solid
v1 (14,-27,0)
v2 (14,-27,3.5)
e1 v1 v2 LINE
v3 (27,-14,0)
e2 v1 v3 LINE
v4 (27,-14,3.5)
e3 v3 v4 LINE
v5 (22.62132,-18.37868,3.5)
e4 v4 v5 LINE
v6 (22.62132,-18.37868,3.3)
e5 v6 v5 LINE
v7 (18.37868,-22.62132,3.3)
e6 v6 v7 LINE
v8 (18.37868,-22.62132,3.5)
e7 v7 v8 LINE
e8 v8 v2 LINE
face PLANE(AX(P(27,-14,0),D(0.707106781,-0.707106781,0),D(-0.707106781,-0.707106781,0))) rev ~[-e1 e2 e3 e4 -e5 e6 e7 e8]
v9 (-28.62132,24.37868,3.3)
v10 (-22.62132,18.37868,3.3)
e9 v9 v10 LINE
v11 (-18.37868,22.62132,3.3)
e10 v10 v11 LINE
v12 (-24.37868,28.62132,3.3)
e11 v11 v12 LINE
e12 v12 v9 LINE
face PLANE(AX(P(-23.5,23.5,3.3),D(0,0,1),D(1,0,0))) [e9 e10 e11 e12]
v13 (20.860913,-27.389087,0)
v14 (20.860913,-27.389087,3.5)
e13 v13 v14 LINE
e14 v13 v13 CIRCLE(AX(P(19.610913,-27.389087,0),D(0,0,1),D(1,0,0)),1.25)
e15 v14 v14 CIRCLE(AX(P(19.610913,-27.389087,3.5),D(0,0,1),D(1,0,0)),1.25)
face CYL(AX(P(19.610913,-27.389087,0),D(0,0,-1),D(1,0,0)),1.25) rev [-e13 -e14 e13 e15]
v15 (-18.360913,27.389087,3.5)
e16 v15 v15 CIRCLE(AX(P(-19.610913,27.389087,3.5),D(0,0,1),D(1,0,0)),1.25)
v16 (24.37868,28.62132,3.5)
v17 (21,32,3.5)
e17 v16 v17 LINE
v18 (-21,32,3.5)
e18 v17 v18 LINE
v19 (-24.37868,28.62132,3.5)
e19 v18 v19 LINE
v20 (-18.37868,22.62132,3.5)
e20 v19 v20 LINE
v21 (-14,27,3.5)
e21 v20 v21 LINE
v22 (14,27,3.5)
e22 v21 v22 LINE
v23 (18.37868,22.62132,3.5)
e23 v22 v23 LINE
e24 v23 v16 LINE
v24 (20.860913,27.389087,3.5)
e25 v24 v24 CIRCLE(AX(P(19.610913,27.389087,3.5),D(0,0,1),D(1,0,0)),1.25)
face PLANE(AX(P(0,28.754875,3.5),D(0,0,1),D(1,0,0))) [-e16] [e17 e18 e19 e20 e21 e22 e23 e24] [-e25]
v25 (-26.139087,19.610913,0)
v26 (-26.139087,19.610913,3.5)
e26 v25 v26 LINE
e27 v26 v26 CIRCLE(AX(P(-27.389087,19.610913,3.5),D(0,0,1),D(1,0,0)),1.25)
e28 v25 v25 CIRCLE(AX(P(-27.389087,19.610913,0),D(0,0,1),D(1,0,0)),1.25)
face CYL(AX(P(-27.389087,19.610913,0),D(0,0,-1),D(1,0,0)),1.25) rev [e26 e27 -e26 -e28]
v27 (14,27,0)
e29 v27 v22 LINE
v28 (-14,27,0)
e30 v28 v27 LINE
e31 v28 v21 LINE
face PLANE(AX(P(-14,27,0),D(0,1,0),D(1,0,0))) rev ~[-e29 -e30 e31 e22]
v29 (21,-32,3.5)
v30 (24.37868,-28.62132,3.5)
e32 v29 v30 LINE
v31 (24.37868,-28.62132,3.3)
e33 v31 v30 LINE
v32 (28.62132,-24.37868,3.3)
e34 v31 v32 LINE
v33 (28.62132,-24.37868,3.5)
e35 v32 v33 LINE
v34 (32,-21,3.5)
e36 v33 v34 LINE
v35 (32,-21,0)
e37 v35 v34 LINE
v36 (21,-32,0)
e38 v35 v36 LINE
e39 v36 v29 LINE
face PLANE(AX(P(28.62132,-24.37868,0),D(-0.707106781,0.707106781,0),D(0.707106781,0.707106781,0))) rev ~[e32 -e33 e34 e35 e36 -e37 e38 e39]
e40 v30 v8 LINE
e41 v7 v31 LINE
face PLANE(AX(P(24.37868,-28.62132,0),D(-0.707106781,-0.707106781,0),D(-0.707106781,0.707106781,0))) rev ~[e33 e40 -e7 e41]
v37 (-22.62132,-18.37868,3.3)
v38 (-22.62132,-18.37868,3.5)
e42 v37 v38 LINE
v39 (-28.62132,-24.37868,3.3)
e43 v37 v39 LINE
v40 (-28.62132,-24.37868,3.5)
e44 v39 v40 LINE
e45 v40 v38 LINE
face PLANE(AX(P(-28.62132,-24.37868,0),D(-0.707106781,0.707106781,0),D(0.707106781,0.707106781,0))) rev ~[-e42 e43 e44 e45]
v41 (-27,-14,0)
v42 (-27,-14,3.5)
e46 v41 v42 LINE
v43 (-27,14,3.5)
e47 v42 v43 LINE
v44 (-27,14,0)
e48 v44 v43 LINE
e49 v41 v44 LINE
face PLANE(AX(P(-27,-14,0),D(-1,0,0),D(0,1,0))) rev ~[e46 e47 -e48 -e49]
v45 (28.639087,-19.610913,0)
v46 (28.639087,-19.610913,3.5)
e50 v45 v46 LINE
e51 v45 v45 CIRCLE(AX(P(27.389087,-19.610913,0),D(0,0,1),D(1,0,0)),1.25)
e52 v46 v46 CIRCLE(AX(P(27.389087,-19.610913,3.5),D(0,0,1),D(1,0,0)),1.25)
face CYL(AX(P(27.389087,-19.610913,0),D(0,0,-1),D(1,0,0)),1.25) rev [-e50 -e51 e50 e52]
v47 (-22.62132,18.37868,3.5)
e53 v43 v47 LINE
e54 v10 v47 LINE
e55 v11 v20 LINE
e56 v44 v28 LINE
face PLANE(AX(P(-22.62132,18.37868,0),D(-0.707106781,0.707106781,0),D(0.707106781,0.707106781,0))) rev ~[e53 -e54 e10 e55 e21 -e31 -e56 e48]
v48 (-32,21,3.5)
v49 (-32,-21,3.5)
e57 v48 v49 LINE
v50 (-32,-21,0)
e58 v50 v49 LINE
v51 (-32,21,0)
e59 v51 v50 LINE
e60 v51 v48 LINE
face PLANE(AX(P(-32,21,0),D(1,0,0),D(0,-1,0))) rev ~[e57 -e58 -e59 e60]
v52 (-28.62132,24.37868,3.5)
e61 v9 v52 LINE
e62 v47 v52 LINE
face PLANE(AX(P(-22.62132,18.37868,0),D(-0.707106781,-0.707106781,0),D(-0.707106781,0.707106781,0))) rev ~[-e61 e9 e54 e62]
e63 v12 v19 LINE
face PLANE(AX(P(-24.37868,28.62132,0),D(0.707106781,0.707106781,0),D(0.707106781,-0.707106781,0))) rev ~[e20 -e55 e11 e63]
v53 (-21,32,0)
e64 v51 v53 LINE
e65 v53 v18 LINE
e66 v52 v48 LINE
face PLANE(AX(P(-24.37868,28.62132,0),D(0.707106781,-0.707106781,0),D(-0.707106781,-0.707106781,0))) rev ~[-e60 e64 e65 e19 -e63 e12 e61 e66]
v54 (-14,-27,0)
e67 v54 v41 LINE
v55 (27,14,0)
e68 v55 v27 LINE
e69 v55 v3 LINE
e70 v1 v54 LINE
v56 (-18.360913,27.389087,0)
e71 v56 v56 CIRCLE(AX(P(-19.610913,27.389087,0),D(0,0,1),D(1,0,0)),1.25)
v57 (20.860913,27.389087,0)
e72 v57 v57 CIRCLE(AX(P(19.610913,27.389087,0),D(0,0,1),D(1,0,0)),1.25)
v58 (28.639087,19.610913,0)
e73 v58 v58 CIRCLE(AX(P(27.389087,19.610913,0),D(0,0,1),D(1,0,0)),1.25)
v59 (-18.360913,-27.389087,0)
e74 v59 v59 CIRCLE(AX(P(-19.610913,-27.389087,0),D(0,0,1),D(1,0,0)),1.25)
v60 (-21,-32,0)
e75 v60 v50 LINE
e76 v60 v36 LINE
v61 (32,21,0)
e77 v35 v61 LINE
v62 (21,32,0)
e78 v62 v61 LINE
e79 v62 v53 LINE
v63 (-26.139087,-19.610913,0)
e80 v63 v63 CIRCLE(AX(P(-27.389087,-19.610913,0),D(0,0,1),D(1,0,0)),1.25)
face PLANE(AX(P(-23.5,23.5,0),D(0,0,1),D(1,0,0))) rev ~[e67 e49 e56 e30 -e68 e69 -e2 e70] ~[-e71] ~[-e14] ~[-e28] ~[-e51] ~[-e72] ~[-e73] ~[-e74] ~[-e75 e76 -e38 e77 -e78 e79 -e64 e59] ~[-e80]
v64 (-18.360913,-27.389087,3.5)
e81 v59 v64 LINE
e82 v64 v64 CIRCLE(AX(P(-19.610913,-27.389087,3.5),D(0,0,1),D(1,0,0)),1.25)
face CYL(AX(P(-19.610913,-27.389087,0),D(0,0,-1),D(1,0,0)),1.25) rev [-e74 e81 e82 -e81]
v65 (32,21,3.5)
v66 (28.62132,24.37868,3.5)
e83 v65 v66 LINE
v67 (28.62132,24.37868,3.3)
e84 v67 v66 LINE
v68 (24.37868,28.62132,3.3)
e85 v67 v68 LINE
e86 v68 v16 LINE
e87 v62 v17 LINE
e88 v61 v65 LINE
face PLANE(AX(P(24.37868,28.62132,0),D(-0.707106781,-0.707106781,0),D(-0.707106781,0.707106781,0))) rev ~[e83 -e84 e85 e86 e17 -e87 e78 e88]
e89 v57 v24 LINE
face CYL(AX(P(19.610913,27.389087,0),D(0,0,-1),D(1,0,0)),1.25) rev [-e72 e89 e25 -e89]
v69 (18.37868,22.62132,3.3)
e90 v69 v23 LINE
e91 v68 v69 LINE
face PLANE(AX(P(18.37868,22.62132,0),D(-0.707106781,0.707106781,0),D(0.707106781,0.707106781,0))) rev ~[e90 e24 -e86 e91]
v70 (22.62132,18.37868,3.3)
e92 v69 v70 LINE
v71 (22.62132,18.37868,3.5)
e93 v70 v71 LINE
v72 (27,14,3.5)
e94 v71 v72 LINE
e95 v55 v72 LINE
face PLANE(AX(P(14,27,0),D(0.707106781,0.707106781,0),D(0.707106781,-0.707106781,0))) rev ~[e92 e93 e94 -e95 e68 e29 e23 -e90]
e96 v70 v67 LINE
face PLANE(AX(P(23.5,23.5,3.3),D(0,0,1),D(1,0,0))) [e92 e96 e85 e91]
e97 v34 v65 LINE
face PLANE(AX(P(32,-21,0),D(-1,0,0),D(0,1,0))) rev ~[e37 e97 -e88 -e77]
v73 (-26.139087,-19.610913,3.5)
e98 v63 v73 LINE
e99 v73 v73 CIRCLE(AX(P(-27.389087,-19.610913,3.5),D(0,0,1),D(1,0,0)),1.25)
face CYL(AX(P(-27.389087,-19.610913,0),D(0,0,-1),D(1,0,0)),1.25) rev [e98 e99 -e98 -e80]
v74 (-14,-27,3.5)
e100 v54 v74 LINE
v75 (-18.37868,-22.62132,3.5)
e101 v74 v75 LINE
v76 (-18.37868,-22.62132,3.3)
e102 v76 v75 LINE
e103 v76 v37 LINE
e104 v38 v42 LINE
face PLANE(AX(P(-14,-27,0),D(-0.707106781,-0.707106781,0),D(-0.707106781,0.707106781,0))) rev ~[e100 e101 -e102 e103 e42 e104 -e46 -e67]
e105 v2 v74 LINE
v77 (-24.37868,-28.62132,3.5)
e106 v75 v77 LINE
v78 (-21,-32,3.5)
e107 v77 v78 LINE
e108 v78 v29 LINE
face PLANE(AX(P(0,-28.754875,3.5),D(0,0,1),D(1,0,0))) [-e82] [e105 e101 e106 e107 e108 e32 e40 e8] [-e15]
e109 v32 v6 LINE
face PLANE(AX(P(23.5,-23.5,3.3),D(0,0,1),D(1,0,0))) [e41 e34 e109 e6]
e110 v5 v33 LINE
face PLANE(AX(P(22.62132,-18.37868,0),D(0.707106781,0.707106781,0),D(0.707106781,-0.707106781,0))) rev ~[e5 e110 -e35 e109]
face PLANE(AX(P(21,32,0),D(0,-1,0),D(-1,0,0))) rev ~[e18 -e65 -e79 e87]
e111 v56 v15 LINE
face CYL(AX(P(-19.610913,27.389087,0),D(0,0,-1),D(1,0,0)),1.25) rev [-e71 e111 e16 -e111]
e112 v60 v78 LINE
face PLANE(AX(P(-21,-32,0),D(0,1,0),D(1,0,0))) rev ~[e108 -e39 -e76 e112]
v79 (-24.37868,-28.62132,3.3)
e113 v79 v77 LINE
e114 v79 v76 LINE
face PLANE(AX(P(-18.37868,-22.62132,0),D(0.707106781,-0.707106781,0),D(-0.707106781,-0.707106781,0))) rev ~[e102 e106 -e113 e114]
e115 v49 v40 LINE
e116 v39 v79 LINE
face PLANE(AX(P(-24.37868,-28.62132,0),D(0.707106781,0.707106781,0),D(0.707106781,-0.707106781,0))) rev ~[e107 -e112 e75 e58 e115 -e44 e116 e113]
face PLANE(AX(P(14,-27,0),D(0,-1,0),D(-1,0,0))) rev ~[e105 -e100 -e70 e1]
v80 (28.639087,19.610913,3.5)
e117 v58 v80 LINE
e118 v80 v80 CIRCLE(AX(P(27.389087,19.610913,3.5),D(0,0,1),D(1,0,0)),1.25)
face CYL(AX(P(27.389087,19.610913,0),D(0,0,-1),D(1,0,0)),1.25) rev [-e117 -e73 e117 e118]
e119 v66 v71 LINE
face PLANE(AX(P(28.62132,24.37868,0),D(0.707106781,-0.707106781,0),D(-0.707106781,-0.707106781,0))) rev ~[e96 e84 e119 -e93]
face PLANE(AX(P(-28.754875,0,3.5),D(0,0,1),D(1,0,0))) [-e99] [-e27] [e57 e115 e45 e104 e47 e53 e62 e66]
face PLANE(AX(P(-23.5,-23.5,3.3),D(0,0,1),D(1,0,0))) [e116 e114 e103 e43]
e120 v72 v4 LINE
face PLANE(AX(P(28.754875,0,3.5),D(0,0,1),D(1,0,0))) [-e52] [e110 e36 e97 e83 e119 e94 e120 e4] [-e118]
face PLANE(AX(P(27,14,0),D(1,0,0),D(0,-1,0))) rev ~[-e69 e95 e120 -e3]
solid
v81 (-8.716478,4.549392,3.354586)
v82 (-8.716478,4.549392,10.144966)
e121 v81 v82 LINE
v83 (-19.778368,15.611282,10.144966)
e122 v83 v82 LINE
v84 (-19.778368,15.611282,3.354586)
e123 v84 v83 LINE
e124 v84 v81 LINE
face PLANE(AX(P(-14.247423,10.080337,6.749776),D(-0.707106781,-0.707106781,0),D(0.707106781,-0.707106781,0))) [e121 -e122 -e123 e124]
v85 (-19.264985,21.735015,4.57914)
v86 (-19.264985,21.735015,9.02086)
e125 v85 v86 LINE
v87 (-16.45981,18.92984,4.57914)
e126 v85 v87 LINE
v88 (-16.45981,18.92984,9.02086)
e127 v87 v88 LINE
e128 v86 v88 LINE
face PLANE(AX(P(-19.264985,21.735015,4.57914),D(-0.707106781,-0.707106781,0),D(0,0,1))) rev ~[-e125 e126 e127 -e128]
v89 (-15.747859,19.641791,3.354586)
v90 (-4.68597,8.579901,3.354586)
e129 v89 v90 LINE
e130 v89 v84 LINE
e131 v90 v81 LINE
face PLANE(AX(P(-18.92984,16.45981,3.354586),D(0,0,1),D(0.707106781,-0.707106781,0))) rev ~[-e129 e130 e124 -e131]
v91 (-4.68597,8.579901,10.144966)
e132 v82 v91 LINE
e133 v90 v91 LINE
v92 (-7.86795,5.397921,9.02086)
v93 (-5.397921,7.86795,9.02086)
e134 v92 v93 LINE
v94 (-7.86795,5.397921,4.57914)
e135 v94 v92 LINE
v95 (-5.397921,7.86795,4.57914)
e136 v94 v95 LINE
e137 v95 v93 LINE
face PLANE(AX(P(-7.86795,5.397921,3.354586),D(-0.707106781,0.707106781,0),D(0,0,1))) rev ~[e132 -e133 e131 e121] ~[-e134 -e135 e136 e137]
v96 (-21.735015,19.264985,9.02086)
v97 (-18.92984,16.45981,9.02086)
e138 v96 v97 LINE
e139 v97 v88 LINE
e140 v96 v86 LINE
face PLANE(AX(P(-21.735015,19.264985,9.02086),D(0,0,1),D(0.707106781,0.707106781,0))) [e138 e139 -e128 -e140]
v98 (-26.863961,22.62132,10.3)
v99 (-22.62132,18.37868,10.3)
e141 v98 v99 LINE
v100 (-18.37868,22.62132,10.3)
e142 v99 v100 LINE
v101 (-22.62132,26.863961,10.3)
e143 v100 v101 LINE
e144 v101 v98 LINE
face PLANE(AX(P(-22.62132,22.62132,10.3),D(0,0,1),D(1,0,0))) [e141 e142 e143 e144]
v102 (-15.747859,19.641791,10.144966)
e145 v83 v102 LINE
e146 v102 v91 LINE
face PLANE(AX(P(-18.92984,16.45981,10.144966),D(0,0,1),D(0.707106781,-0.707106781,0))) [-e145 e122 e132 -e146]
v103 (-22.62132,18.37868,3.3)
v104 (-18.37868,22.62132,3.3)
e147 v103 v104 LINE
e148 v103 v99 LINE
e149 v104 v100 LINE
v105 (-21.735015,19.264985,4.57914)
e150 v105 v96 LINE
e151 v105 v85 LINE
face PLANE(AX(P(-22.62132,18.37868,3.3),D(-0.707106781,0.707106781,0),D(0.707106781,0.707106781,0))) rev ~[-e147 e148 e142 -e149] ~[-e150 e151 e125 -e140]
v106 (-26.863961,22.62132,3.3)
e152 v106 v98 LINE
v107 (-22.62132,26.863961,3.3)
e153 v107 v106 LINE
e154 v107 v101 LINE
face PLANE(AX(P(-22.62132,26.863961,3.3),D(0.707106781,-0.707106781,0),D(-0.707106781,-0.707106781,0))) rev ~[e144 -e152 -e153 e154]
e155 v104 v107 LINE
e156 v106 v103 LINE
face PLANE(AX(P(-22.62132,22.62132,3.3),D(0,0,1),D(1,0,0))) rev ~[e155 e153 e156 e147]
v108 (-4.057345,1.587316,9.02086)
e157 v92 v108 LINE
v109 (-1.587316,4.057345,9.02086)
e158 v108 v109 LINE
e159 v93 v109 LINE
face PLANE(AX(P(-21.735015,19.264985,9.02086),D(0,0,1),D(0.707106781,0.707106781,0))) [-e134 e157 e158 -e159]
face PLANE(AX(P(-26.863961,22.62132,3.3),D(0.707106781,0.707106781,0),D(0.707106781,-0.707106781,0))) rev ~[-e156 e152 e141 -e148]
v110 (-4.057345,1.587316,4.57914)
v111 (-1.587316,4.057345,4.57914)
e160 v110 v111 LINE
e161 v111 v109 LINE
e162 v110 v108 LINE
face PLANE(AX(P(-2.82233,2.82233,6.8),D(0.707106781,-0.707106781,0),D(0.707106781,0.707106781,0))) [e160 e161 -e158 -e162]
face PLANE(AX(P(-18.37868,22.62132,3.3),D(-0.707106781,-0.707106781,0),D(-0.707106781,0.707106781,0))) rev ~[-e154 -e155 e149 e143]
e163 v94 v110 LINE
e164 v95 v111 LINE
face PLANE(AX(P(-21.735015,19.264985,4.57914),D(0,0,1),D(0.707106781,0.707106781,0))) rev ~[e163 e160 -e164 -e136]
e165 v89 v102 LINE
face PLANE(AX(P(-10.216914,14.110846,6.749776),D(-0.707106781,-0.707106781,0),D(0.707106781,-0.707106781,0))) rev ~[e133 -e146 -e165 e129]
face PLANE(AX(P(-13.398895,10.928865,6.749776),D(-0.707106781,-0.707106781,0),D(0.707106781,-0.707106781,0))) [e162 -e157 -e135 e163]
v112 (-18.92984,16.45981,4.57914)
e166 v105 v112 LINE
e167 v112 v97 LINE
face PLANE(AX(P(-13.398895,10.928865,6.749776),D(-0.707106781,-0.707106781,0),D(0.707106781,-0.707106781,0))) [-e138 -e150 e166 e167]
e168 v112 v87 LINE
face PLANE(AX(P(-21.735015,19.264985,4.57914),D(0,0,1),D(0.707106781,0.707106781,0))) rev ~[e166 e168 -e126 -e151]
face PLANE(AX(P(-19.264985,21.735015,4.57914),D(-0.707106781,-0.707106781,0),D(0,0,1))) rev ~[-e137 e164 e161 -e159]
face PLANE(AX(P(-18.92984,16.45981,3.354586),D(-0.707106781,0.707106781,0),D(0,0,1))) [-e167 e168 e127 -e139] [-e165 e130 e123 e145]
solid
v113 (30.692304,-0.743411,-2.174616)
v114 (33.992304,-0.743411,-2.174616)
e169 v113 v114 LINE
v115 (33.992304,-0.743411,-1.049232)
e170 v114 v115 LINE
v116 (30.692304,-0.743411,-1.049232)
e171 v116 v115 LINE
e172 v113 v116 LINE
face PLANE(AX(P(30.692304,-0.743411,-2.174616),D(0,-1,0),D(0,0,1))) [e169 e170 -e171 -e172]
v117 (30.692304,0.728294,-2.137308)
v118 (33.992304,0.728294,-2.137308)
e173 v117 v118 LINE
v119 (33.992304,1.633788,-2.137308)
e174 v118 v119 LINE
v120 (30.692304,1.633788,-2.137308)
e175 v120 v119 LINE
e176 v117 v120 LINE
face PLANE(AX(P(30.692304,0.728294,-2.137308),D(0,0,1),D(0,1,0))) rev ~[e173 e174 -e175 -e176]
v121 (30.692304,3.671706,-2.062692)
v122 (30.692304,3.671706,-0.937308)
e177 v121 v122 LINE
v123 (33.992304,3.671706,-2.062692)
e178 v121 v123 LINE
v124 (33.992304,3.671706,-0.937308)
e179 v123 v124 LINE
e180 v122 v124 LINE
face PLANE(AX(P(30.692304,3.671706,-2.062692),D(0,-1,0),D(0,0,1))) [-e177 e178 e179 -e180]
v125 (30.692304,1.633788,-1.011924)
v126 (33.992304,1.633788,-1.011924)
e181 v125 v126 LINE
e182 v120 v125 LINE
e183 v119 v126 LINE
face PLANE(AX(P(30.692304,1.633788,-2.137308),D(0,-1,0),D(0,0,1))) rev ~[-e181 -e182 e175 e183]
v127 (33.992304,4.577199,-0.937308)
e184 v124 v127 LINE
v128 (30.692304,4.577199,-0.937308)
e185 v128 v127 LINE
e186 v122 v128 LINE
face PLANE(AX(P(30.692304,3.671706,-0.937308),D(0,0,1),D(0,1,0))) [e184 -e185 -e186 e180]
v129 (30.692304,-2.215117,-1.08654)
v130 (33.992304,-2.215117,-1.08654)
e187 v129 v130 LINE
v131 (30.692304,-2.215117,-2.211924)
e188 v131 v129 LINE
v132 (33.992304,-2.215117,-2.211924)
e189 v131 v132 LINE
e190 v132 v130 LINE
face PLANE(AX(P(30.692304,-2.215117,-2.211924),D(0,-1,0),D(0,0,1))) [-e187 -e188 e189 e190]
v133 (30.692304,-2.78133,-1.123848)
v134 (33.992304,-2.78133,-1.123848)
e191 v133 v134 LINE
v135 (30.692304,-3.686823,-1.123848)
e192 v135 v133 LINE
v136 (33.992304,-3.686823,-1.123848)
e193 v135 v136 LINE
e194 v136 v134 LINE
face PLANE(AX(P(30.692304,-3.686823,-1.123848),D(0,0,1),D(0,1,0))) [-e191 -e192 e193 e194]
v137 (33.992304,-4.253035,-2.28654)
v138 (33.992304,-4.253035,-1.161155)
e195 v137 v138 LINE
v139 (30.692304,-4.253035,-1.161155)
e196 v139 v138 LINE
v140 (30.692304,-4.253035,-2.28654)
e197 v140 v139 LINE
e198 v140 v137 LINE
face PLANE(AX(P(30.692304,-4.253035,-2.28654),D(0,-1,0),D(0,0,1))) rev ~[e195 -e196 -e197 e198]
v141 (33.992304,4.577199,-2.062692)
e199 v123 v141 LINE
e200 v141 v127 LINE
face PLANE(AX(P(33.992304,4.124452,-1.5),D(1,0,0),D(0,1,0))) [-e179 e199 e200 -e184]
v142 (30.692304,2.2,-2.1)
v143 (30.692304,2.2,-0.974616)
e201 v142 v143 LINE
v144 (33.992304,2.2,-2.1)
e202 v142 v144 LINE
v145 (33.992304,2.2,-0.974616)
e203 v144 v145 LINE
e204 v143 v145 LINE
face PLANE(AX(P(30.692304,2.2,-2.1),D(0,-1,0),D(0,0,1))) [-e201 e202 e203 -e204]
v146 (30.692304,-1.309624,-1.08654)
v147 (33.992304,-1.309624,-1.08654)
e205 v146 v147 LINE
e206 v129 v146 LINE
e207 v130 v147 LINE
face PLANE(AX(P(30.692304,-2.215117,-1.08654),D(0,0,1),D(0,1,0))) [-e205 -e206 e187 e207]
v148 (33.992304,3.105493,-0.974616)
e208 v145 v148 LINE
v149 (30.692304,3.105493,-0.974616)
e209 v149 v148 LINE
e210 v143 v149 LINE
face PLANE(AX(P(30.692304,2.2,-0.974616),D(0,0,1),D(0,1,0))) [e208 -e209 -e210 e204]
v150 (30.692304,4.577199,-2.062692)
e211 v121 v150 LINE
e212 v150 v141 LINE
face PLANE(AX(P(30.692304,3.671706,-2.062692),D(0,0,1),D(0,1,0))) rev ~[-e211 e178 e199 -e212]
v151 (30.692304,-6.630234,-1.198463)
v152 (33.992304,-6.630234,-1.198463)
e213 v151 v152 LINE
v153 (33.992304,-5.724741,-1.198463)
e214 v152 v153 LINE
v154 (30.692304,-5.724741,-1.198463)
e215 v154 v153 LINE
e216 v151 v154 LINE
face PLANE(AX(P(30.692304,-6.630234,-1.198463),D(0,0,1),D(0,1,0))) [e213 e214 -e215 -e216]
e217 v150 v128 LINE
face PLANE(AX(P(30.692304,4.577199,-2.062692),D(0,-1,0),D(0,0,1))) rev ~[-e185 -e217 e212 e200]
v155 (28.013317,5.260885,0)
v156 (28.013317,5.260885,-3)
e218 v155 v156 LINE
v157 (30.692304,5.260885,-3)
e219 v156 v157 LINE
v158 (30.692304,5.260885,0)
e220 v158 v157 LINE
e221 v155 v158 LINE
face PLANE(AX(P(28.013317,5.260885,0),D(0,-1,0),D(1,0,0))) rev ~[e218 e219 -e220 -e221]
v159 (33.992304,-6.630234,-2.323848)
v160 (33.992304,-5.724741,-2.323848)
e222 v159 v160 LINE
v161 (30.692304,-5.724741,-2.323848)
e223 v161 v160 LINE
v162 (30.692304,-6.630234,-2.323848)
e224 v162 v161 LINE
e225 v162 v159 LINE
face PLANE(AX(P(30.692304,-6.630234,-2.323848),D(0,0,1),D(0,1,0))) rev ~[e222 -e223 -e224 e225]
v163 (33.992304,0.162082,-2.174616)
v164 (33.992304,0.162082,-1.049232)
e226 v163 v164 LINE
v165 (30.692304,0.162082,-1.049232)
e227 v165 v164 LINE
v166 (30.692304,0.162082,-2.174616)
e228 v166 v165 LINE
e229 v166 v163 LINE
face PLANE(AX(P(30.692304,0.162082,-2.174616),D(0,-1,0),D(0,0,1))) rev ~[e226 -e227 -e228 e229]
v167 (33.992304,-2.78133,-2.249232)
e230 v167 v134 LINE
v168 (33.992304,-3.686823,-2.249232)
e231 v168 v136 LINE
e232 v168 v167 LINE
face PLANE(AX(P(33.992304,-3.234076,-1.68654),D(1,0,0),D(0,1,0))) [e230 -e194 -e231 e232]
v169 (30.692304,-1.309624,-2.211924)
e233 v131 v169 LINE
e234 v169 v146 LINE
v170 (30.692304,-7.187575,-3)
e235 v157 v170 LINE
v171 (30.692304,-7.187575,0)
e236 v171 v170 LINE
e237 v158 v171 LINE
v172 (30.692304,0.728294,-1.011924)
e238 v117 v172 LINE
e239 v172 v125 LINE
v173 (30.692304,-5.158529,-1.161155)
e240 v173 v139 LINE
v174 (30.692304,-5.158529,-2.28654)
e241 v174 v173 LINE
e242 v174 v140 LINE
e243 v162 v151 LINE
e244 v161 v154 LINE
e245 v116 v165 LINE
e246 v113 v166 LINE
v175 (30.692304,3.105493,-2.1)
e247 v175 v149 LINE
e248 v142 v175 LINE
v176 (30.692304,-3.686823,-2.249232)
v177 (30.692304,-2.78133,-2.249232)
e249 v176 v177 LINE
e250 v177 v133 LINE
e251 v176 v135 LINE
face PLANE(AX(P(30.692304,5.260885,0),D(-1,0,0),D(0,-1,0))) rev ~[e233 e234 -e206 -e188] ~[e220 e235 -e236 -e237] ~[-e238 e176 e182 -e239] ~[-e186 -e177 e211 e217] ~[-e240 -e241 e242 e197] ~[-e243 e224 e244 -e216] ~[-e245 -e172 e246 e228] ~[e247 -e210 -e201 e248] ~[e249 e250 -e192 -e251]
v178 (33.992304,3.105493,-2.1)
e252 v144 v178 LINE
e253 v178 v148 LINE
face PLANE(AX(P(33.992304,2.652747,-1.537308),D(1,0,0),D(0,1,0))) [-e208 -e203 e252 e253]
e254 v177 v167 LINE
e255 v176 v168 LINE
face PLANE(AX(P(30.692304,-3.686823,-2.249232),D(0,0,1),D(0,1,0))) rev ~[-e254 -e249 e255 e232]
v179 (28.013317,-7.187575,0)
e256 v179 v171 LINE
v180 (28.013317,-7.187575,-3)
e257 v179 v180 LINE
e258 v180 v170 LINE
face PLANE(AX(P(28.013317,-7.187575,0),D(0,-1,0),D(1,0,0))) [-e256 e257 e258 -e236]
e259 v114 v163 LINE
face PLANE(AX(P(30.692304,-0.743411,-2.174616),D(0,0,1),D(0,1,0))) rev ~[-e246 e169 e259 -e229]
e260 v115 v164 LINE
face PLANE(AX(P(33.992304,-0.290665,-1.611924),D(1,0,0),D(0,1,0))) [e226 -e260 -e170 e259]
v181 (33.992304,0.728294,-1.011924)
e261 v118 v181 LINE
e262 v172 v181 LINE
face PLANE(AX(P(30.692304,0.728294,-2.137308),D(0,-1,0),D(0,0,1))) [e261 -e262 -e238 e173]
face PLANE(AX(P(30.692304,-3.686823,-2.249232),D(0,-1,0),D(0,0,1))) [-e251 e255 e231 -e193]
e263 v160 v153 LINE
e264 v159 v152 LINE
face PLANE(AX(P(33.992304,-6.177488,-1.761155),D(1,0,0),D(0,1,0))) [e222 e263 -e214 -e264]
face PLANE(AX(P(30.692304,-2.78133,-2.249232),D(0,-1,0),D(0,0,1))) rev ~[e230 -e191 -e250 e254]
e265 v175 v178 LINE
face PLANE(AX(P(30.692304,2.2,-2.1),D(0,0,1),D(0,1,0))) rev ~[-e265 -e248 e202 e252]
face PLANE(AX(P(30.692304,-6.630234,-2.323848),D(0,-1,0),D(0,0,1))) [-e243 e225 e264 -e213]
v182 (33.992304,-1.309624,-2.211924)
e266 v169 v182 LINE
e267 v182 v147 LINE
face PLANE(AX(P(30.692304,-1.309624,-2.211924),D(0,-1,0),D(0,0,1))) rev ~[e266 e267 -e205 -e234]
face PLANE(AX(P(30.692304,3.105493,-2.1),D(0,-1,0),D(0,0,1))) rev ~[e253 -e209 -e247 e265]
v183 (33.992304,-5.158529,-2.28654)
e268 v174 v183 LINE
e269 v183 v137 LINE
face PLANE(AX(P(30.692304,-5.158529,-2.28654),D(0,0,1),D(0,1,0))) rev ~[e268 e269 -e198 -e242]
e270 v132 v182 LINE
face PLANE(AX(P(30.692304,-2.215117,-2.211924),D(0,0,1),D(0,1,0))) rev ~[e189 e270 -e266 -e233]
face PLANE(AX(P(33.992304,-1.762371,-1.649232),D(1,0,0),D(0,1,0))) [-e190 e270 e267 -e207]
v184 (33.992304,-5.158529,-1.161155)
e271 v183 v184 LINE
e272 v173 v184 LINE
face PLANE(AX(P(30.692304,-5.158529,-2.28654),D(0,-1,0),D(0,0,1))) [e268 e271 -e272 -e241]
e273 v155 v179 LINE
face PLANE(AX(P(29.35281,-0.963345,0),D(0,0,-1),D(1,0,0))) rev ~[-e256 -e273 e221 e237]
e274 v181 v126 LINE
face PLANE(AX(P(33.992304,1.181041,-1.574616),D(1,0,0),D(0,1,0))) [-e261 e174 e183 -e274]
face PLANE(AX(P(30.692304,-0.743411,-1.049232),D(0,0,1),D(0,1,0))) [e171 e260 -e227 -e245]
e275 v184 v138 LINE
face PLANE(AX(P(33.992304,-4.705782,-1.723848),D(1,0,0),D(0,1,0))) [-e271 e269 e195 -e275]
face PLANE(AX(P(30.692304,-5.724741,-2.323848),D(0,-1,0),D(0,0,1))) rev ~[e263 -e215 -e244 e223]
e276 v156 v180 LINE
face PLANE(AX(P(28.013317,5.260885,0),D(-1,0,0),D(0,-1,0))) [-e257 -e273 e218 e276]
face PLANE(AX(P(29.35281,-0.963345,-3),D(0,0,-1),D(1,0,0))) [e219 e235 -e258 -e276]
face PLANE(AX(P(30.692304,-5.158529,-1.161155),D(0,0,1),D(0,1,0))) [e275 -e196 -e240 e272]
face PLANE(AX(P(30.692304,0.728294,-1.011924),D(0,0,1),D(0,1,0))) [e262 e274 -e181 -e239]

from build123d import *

# Parameters (mm, degrees)
F1_DEPTH       = 3.3
F0_R           = 1.25
F2_DEPTH       = 3.5
F5_DEPTH       = 7
F6_W           = 3.4931492992
F6_H           = 4.4417206138
F7_DEPTH       = 25
F10_W          = 15.6438741833
F10_H          = 6.7903799936
F11_DEPTH      = 4.5
F11_DEPTH_BACK = 1.2
F12_W          = 2.6789866388
F12_H          = 12.4484598637
F13_DEPTH      = 3
F14_W          = 0.9054932743
F14_H          = 1.1253841482
F15_DEPTH      = 3.3


with BuildPart() as f1:
    # F0 (on Top) → F1 (new body)
    with BuildSketch(Plane.XY):
        Polygon((-22.6213203436, 18.3786796564), (-18.3786796564, 22.6213203436), (-24.3786796564, 28.6213203436), (-28.6213203436, 24.3786796564), align=None)
    extrude(amount=F1_DEPTH)


with BuildPart() as f1b:
    # F0 (on Top) → F1, piece 2 (new body)
    with BuildSketch(Plane.XY):
        Polygon((24.3786796564, 28.6213203436), (18.3786796564, 22.6213203436), (22.6213203436, 18.3786796564), (28.6213203436, 24.3786796564), align=None)
    extrude(amount=F1_DEPTH)


with BuildPart() as f1c:
    # F0 (on Top) → F1, piece 3 (new body)
    with BuildSketch(Plane.XY):
        Polygon((28.6213203436, -24.3786796564), (22.6213203436, -18.3786796564), (18.3786796564, -22.6213203436), (24.3786796564, -28.6213203436), align=None)
    extrude(amount=F1_DEPTH)


with BuildPart() as f1d:
    # F0 (on Top) → F1, piece 4 (new body)
    with BuildSketch(Plane.XY):
        Polygon((-18.3786796564, -22.6213203436), (-22.6213203436, -18.3786796564), (-28.6213203436, -24.3786796564), (-24.3786796564, -28.6213203436), align=None)
    extrude(amount=F1_DEPTH)


with BuildPart() as f2:
    # F0 (on Top) → F2 (new body)
    with BuildSketch(Plane.XY):
        Polygon((-27, 14), (-22.6213203436, 18.3786796564), (-28.6213203436, 24.3786796564), (-32, 21), (-32, -21), (-28.6213203436, -24.3786796564), (-22.6213203436, -18.3786796564), (-27, -14), align=None)
        with Locations((-27.3890872966, -19.6109127034)):
            Circle(F0_R, mode=Mode.SUBTRACT)
        with Locations((-27.3890872965, 19.6109127035)):
            Circle(F0_R, mode=Mode.SUBTRACT)
    extrude(amount=F2_DEPTH)


with BuildPart() as f2b:
    # F0 (on Top) → F2, piece 2 (new body)
    with BuildSketch(Plane.XY):
        Polygon((-18.3786796564, 22.6213203436), (-14, 27), (14, 27), (18.3786796564, 22.6213203436), (24.3786796564, 28.6213203436), (21, 32), (-21, 32), (-24.3786796564, 28.6213203436), align=None)
        with Locations((-19.6109127034, 27.3890872966)):
            Circle(F0_R, mode=Mode.SUBTRACT)
        with Locations((19.6109127035, 27.3890872965)):
            Circle(F0_R, mode=Mode.SUBTRACT)
    extrude(amount=F2_DEPTH)


with BuildPart() as f2c:
    # F0 (on Top) → F2, piece 3 (new body)
    with BuildSketch(Plane.XY):
        Polygon((28.6213203436, 24.3786796564), (22.6213203436, 18.3786796564), (27, 14), (27, -14), (22.6213203436, -18.3786796564), (28.6213203436, -24.3786796564), (32, -21), (32, 21), align=None)
        with Locations((27.3890872965, -19.6109127035)):
            Circle(F0_R, mode=Mode.SUBTRACT)
        with Locations((27.3890872966, 19.6109127034)):
            Circle(F0_R, mode=Mode.SUBTRACT)
    extrude(amount=F2_DEPTH)


with BuildPart() as f2d:
    # F0 (on Top) → F2, piece 4 (new body)
    with BuildSketch(Plane.XY):
        Polygon((-14, -27), (-18.3786796564, -22.6213203436), (-24.3786796564, -28.6213203436), (-21, -32), (21, -32), (24.3786796564, -28.6213203436), (18.3786796564, -22.6213203436), (14, -27), align=None)
        with Locations((-19.6109127035, -27.3890872965)):
            Circle(F0_R, mode=Mode.SUBTRACT)
        with Locations((19.6109127034, -27.3890872966)):
            Circle(F0_R, mode=Mode.SUBTRACT)
    extrude(amount=F2_DEPTH)


with BuildPart() as f2_1:
    add(f2.part)

    # F3: union F1d, F2d, F1c, F2c, F1b, F2b, F1
    add(f1d.part)
    add(f2d.part)
    add(f1c.part)
    add(f2c.part)
    add(f1b.part)
    add(f2b.part)
    add(f1.part)


with BuildPart() as f5:
    # F4 (on face) → F5 (new body)
    with BuildSketch(Plane.XY.offset(3.3)):
        Polygon((-26.8639610307, 22.6213203436), (-22.6213203436, 18.3786796564), (-18.3786796564, 22.6213203436), (-22.6213203436, 26.8639610307), align=None)
    extrude(amount=F5_DEPTH)

    # F6 (on face) → F7 (join)
    with BuildSketch(Plane(origin=(-20.5, 20.5, 0), x_dir=(0.7071067812, 0.7071067812, 0), z_dir=(0.7071067812, -0.7071067812, 0))):
        with Locations((0, 6.8)):
            Rectangle(F6_W, F6_H)
    extrude(amount=F7_DEPTH)


with BuildPart() as f8_1:
    # F8: copy of F5
    add(f5.part)

    # F10 (on face) → F11 (join, two sides)
    with BuildSketch(Plane(origin=(-1.2350147786, -1.2350147786, 0), x_dir=(0.7071067812, -0.7071067812, 0), z_dir=(-0.7071067812, -0.7071067812, 0))) as f11_sk:
        with Locations((-17.2023242339, 6.7497757263)):
            Rectangle(F10_W, F10_H)
    extrude(amount=-F11_DEPTH)
    extrude(f11_sk.sketch, amount=F11_DEPTH_BACK)


with BuildPart() as f13:
    # F12 (on face) → F13 (new body)
    with BuildSketch(Plane(origin=(0, 0, 0), x_dir=(1, 0, 0), z_dir=(0, 0, -1))):
        with Locations((29.3528102338, 0.96334517)):
            Rectangle(F12_W, F12_H)
    extrude(amount=F13_DEPTH)

    # F14 (on face) → F15 (join)
    with BuildSketch(Plane.YZ.offset(30.6923035532)):
        with Locations((-6.1774876997, -1.7611554813)):
            Rectangle(F14_W, F14_H)
        with Locations((-4.7057819769, -1.7238475554)):
            Rectangle(F14_W, F14_H)
        with Locations((-3.2340762541, -1.6865396295)):
            Rectangle(F14_W, F14_H)
        with Locations((4.12445236, -1.5)):
            Rectangle(F14_W, F14_H)
        with Locations((2.6527466372, -1.5373079259)):
            Rectangle(F14_W, F14_H)
        with Locations((1.1810409144, -1.5746158518)):
            Rectangle(F14_W, F14_H)
        with Locations((-0.2906648085, -1.6119237777)):
            Rectangle(F14_W, F14_H)
        with Locations((-1.7623705313, -1.6492317036)):
            Rectangle(F14_W, F14_H)
    extrude(amount=F15_DEPTH)


solid = Compound([f2_1.part, f8_1.part, f13.part])
